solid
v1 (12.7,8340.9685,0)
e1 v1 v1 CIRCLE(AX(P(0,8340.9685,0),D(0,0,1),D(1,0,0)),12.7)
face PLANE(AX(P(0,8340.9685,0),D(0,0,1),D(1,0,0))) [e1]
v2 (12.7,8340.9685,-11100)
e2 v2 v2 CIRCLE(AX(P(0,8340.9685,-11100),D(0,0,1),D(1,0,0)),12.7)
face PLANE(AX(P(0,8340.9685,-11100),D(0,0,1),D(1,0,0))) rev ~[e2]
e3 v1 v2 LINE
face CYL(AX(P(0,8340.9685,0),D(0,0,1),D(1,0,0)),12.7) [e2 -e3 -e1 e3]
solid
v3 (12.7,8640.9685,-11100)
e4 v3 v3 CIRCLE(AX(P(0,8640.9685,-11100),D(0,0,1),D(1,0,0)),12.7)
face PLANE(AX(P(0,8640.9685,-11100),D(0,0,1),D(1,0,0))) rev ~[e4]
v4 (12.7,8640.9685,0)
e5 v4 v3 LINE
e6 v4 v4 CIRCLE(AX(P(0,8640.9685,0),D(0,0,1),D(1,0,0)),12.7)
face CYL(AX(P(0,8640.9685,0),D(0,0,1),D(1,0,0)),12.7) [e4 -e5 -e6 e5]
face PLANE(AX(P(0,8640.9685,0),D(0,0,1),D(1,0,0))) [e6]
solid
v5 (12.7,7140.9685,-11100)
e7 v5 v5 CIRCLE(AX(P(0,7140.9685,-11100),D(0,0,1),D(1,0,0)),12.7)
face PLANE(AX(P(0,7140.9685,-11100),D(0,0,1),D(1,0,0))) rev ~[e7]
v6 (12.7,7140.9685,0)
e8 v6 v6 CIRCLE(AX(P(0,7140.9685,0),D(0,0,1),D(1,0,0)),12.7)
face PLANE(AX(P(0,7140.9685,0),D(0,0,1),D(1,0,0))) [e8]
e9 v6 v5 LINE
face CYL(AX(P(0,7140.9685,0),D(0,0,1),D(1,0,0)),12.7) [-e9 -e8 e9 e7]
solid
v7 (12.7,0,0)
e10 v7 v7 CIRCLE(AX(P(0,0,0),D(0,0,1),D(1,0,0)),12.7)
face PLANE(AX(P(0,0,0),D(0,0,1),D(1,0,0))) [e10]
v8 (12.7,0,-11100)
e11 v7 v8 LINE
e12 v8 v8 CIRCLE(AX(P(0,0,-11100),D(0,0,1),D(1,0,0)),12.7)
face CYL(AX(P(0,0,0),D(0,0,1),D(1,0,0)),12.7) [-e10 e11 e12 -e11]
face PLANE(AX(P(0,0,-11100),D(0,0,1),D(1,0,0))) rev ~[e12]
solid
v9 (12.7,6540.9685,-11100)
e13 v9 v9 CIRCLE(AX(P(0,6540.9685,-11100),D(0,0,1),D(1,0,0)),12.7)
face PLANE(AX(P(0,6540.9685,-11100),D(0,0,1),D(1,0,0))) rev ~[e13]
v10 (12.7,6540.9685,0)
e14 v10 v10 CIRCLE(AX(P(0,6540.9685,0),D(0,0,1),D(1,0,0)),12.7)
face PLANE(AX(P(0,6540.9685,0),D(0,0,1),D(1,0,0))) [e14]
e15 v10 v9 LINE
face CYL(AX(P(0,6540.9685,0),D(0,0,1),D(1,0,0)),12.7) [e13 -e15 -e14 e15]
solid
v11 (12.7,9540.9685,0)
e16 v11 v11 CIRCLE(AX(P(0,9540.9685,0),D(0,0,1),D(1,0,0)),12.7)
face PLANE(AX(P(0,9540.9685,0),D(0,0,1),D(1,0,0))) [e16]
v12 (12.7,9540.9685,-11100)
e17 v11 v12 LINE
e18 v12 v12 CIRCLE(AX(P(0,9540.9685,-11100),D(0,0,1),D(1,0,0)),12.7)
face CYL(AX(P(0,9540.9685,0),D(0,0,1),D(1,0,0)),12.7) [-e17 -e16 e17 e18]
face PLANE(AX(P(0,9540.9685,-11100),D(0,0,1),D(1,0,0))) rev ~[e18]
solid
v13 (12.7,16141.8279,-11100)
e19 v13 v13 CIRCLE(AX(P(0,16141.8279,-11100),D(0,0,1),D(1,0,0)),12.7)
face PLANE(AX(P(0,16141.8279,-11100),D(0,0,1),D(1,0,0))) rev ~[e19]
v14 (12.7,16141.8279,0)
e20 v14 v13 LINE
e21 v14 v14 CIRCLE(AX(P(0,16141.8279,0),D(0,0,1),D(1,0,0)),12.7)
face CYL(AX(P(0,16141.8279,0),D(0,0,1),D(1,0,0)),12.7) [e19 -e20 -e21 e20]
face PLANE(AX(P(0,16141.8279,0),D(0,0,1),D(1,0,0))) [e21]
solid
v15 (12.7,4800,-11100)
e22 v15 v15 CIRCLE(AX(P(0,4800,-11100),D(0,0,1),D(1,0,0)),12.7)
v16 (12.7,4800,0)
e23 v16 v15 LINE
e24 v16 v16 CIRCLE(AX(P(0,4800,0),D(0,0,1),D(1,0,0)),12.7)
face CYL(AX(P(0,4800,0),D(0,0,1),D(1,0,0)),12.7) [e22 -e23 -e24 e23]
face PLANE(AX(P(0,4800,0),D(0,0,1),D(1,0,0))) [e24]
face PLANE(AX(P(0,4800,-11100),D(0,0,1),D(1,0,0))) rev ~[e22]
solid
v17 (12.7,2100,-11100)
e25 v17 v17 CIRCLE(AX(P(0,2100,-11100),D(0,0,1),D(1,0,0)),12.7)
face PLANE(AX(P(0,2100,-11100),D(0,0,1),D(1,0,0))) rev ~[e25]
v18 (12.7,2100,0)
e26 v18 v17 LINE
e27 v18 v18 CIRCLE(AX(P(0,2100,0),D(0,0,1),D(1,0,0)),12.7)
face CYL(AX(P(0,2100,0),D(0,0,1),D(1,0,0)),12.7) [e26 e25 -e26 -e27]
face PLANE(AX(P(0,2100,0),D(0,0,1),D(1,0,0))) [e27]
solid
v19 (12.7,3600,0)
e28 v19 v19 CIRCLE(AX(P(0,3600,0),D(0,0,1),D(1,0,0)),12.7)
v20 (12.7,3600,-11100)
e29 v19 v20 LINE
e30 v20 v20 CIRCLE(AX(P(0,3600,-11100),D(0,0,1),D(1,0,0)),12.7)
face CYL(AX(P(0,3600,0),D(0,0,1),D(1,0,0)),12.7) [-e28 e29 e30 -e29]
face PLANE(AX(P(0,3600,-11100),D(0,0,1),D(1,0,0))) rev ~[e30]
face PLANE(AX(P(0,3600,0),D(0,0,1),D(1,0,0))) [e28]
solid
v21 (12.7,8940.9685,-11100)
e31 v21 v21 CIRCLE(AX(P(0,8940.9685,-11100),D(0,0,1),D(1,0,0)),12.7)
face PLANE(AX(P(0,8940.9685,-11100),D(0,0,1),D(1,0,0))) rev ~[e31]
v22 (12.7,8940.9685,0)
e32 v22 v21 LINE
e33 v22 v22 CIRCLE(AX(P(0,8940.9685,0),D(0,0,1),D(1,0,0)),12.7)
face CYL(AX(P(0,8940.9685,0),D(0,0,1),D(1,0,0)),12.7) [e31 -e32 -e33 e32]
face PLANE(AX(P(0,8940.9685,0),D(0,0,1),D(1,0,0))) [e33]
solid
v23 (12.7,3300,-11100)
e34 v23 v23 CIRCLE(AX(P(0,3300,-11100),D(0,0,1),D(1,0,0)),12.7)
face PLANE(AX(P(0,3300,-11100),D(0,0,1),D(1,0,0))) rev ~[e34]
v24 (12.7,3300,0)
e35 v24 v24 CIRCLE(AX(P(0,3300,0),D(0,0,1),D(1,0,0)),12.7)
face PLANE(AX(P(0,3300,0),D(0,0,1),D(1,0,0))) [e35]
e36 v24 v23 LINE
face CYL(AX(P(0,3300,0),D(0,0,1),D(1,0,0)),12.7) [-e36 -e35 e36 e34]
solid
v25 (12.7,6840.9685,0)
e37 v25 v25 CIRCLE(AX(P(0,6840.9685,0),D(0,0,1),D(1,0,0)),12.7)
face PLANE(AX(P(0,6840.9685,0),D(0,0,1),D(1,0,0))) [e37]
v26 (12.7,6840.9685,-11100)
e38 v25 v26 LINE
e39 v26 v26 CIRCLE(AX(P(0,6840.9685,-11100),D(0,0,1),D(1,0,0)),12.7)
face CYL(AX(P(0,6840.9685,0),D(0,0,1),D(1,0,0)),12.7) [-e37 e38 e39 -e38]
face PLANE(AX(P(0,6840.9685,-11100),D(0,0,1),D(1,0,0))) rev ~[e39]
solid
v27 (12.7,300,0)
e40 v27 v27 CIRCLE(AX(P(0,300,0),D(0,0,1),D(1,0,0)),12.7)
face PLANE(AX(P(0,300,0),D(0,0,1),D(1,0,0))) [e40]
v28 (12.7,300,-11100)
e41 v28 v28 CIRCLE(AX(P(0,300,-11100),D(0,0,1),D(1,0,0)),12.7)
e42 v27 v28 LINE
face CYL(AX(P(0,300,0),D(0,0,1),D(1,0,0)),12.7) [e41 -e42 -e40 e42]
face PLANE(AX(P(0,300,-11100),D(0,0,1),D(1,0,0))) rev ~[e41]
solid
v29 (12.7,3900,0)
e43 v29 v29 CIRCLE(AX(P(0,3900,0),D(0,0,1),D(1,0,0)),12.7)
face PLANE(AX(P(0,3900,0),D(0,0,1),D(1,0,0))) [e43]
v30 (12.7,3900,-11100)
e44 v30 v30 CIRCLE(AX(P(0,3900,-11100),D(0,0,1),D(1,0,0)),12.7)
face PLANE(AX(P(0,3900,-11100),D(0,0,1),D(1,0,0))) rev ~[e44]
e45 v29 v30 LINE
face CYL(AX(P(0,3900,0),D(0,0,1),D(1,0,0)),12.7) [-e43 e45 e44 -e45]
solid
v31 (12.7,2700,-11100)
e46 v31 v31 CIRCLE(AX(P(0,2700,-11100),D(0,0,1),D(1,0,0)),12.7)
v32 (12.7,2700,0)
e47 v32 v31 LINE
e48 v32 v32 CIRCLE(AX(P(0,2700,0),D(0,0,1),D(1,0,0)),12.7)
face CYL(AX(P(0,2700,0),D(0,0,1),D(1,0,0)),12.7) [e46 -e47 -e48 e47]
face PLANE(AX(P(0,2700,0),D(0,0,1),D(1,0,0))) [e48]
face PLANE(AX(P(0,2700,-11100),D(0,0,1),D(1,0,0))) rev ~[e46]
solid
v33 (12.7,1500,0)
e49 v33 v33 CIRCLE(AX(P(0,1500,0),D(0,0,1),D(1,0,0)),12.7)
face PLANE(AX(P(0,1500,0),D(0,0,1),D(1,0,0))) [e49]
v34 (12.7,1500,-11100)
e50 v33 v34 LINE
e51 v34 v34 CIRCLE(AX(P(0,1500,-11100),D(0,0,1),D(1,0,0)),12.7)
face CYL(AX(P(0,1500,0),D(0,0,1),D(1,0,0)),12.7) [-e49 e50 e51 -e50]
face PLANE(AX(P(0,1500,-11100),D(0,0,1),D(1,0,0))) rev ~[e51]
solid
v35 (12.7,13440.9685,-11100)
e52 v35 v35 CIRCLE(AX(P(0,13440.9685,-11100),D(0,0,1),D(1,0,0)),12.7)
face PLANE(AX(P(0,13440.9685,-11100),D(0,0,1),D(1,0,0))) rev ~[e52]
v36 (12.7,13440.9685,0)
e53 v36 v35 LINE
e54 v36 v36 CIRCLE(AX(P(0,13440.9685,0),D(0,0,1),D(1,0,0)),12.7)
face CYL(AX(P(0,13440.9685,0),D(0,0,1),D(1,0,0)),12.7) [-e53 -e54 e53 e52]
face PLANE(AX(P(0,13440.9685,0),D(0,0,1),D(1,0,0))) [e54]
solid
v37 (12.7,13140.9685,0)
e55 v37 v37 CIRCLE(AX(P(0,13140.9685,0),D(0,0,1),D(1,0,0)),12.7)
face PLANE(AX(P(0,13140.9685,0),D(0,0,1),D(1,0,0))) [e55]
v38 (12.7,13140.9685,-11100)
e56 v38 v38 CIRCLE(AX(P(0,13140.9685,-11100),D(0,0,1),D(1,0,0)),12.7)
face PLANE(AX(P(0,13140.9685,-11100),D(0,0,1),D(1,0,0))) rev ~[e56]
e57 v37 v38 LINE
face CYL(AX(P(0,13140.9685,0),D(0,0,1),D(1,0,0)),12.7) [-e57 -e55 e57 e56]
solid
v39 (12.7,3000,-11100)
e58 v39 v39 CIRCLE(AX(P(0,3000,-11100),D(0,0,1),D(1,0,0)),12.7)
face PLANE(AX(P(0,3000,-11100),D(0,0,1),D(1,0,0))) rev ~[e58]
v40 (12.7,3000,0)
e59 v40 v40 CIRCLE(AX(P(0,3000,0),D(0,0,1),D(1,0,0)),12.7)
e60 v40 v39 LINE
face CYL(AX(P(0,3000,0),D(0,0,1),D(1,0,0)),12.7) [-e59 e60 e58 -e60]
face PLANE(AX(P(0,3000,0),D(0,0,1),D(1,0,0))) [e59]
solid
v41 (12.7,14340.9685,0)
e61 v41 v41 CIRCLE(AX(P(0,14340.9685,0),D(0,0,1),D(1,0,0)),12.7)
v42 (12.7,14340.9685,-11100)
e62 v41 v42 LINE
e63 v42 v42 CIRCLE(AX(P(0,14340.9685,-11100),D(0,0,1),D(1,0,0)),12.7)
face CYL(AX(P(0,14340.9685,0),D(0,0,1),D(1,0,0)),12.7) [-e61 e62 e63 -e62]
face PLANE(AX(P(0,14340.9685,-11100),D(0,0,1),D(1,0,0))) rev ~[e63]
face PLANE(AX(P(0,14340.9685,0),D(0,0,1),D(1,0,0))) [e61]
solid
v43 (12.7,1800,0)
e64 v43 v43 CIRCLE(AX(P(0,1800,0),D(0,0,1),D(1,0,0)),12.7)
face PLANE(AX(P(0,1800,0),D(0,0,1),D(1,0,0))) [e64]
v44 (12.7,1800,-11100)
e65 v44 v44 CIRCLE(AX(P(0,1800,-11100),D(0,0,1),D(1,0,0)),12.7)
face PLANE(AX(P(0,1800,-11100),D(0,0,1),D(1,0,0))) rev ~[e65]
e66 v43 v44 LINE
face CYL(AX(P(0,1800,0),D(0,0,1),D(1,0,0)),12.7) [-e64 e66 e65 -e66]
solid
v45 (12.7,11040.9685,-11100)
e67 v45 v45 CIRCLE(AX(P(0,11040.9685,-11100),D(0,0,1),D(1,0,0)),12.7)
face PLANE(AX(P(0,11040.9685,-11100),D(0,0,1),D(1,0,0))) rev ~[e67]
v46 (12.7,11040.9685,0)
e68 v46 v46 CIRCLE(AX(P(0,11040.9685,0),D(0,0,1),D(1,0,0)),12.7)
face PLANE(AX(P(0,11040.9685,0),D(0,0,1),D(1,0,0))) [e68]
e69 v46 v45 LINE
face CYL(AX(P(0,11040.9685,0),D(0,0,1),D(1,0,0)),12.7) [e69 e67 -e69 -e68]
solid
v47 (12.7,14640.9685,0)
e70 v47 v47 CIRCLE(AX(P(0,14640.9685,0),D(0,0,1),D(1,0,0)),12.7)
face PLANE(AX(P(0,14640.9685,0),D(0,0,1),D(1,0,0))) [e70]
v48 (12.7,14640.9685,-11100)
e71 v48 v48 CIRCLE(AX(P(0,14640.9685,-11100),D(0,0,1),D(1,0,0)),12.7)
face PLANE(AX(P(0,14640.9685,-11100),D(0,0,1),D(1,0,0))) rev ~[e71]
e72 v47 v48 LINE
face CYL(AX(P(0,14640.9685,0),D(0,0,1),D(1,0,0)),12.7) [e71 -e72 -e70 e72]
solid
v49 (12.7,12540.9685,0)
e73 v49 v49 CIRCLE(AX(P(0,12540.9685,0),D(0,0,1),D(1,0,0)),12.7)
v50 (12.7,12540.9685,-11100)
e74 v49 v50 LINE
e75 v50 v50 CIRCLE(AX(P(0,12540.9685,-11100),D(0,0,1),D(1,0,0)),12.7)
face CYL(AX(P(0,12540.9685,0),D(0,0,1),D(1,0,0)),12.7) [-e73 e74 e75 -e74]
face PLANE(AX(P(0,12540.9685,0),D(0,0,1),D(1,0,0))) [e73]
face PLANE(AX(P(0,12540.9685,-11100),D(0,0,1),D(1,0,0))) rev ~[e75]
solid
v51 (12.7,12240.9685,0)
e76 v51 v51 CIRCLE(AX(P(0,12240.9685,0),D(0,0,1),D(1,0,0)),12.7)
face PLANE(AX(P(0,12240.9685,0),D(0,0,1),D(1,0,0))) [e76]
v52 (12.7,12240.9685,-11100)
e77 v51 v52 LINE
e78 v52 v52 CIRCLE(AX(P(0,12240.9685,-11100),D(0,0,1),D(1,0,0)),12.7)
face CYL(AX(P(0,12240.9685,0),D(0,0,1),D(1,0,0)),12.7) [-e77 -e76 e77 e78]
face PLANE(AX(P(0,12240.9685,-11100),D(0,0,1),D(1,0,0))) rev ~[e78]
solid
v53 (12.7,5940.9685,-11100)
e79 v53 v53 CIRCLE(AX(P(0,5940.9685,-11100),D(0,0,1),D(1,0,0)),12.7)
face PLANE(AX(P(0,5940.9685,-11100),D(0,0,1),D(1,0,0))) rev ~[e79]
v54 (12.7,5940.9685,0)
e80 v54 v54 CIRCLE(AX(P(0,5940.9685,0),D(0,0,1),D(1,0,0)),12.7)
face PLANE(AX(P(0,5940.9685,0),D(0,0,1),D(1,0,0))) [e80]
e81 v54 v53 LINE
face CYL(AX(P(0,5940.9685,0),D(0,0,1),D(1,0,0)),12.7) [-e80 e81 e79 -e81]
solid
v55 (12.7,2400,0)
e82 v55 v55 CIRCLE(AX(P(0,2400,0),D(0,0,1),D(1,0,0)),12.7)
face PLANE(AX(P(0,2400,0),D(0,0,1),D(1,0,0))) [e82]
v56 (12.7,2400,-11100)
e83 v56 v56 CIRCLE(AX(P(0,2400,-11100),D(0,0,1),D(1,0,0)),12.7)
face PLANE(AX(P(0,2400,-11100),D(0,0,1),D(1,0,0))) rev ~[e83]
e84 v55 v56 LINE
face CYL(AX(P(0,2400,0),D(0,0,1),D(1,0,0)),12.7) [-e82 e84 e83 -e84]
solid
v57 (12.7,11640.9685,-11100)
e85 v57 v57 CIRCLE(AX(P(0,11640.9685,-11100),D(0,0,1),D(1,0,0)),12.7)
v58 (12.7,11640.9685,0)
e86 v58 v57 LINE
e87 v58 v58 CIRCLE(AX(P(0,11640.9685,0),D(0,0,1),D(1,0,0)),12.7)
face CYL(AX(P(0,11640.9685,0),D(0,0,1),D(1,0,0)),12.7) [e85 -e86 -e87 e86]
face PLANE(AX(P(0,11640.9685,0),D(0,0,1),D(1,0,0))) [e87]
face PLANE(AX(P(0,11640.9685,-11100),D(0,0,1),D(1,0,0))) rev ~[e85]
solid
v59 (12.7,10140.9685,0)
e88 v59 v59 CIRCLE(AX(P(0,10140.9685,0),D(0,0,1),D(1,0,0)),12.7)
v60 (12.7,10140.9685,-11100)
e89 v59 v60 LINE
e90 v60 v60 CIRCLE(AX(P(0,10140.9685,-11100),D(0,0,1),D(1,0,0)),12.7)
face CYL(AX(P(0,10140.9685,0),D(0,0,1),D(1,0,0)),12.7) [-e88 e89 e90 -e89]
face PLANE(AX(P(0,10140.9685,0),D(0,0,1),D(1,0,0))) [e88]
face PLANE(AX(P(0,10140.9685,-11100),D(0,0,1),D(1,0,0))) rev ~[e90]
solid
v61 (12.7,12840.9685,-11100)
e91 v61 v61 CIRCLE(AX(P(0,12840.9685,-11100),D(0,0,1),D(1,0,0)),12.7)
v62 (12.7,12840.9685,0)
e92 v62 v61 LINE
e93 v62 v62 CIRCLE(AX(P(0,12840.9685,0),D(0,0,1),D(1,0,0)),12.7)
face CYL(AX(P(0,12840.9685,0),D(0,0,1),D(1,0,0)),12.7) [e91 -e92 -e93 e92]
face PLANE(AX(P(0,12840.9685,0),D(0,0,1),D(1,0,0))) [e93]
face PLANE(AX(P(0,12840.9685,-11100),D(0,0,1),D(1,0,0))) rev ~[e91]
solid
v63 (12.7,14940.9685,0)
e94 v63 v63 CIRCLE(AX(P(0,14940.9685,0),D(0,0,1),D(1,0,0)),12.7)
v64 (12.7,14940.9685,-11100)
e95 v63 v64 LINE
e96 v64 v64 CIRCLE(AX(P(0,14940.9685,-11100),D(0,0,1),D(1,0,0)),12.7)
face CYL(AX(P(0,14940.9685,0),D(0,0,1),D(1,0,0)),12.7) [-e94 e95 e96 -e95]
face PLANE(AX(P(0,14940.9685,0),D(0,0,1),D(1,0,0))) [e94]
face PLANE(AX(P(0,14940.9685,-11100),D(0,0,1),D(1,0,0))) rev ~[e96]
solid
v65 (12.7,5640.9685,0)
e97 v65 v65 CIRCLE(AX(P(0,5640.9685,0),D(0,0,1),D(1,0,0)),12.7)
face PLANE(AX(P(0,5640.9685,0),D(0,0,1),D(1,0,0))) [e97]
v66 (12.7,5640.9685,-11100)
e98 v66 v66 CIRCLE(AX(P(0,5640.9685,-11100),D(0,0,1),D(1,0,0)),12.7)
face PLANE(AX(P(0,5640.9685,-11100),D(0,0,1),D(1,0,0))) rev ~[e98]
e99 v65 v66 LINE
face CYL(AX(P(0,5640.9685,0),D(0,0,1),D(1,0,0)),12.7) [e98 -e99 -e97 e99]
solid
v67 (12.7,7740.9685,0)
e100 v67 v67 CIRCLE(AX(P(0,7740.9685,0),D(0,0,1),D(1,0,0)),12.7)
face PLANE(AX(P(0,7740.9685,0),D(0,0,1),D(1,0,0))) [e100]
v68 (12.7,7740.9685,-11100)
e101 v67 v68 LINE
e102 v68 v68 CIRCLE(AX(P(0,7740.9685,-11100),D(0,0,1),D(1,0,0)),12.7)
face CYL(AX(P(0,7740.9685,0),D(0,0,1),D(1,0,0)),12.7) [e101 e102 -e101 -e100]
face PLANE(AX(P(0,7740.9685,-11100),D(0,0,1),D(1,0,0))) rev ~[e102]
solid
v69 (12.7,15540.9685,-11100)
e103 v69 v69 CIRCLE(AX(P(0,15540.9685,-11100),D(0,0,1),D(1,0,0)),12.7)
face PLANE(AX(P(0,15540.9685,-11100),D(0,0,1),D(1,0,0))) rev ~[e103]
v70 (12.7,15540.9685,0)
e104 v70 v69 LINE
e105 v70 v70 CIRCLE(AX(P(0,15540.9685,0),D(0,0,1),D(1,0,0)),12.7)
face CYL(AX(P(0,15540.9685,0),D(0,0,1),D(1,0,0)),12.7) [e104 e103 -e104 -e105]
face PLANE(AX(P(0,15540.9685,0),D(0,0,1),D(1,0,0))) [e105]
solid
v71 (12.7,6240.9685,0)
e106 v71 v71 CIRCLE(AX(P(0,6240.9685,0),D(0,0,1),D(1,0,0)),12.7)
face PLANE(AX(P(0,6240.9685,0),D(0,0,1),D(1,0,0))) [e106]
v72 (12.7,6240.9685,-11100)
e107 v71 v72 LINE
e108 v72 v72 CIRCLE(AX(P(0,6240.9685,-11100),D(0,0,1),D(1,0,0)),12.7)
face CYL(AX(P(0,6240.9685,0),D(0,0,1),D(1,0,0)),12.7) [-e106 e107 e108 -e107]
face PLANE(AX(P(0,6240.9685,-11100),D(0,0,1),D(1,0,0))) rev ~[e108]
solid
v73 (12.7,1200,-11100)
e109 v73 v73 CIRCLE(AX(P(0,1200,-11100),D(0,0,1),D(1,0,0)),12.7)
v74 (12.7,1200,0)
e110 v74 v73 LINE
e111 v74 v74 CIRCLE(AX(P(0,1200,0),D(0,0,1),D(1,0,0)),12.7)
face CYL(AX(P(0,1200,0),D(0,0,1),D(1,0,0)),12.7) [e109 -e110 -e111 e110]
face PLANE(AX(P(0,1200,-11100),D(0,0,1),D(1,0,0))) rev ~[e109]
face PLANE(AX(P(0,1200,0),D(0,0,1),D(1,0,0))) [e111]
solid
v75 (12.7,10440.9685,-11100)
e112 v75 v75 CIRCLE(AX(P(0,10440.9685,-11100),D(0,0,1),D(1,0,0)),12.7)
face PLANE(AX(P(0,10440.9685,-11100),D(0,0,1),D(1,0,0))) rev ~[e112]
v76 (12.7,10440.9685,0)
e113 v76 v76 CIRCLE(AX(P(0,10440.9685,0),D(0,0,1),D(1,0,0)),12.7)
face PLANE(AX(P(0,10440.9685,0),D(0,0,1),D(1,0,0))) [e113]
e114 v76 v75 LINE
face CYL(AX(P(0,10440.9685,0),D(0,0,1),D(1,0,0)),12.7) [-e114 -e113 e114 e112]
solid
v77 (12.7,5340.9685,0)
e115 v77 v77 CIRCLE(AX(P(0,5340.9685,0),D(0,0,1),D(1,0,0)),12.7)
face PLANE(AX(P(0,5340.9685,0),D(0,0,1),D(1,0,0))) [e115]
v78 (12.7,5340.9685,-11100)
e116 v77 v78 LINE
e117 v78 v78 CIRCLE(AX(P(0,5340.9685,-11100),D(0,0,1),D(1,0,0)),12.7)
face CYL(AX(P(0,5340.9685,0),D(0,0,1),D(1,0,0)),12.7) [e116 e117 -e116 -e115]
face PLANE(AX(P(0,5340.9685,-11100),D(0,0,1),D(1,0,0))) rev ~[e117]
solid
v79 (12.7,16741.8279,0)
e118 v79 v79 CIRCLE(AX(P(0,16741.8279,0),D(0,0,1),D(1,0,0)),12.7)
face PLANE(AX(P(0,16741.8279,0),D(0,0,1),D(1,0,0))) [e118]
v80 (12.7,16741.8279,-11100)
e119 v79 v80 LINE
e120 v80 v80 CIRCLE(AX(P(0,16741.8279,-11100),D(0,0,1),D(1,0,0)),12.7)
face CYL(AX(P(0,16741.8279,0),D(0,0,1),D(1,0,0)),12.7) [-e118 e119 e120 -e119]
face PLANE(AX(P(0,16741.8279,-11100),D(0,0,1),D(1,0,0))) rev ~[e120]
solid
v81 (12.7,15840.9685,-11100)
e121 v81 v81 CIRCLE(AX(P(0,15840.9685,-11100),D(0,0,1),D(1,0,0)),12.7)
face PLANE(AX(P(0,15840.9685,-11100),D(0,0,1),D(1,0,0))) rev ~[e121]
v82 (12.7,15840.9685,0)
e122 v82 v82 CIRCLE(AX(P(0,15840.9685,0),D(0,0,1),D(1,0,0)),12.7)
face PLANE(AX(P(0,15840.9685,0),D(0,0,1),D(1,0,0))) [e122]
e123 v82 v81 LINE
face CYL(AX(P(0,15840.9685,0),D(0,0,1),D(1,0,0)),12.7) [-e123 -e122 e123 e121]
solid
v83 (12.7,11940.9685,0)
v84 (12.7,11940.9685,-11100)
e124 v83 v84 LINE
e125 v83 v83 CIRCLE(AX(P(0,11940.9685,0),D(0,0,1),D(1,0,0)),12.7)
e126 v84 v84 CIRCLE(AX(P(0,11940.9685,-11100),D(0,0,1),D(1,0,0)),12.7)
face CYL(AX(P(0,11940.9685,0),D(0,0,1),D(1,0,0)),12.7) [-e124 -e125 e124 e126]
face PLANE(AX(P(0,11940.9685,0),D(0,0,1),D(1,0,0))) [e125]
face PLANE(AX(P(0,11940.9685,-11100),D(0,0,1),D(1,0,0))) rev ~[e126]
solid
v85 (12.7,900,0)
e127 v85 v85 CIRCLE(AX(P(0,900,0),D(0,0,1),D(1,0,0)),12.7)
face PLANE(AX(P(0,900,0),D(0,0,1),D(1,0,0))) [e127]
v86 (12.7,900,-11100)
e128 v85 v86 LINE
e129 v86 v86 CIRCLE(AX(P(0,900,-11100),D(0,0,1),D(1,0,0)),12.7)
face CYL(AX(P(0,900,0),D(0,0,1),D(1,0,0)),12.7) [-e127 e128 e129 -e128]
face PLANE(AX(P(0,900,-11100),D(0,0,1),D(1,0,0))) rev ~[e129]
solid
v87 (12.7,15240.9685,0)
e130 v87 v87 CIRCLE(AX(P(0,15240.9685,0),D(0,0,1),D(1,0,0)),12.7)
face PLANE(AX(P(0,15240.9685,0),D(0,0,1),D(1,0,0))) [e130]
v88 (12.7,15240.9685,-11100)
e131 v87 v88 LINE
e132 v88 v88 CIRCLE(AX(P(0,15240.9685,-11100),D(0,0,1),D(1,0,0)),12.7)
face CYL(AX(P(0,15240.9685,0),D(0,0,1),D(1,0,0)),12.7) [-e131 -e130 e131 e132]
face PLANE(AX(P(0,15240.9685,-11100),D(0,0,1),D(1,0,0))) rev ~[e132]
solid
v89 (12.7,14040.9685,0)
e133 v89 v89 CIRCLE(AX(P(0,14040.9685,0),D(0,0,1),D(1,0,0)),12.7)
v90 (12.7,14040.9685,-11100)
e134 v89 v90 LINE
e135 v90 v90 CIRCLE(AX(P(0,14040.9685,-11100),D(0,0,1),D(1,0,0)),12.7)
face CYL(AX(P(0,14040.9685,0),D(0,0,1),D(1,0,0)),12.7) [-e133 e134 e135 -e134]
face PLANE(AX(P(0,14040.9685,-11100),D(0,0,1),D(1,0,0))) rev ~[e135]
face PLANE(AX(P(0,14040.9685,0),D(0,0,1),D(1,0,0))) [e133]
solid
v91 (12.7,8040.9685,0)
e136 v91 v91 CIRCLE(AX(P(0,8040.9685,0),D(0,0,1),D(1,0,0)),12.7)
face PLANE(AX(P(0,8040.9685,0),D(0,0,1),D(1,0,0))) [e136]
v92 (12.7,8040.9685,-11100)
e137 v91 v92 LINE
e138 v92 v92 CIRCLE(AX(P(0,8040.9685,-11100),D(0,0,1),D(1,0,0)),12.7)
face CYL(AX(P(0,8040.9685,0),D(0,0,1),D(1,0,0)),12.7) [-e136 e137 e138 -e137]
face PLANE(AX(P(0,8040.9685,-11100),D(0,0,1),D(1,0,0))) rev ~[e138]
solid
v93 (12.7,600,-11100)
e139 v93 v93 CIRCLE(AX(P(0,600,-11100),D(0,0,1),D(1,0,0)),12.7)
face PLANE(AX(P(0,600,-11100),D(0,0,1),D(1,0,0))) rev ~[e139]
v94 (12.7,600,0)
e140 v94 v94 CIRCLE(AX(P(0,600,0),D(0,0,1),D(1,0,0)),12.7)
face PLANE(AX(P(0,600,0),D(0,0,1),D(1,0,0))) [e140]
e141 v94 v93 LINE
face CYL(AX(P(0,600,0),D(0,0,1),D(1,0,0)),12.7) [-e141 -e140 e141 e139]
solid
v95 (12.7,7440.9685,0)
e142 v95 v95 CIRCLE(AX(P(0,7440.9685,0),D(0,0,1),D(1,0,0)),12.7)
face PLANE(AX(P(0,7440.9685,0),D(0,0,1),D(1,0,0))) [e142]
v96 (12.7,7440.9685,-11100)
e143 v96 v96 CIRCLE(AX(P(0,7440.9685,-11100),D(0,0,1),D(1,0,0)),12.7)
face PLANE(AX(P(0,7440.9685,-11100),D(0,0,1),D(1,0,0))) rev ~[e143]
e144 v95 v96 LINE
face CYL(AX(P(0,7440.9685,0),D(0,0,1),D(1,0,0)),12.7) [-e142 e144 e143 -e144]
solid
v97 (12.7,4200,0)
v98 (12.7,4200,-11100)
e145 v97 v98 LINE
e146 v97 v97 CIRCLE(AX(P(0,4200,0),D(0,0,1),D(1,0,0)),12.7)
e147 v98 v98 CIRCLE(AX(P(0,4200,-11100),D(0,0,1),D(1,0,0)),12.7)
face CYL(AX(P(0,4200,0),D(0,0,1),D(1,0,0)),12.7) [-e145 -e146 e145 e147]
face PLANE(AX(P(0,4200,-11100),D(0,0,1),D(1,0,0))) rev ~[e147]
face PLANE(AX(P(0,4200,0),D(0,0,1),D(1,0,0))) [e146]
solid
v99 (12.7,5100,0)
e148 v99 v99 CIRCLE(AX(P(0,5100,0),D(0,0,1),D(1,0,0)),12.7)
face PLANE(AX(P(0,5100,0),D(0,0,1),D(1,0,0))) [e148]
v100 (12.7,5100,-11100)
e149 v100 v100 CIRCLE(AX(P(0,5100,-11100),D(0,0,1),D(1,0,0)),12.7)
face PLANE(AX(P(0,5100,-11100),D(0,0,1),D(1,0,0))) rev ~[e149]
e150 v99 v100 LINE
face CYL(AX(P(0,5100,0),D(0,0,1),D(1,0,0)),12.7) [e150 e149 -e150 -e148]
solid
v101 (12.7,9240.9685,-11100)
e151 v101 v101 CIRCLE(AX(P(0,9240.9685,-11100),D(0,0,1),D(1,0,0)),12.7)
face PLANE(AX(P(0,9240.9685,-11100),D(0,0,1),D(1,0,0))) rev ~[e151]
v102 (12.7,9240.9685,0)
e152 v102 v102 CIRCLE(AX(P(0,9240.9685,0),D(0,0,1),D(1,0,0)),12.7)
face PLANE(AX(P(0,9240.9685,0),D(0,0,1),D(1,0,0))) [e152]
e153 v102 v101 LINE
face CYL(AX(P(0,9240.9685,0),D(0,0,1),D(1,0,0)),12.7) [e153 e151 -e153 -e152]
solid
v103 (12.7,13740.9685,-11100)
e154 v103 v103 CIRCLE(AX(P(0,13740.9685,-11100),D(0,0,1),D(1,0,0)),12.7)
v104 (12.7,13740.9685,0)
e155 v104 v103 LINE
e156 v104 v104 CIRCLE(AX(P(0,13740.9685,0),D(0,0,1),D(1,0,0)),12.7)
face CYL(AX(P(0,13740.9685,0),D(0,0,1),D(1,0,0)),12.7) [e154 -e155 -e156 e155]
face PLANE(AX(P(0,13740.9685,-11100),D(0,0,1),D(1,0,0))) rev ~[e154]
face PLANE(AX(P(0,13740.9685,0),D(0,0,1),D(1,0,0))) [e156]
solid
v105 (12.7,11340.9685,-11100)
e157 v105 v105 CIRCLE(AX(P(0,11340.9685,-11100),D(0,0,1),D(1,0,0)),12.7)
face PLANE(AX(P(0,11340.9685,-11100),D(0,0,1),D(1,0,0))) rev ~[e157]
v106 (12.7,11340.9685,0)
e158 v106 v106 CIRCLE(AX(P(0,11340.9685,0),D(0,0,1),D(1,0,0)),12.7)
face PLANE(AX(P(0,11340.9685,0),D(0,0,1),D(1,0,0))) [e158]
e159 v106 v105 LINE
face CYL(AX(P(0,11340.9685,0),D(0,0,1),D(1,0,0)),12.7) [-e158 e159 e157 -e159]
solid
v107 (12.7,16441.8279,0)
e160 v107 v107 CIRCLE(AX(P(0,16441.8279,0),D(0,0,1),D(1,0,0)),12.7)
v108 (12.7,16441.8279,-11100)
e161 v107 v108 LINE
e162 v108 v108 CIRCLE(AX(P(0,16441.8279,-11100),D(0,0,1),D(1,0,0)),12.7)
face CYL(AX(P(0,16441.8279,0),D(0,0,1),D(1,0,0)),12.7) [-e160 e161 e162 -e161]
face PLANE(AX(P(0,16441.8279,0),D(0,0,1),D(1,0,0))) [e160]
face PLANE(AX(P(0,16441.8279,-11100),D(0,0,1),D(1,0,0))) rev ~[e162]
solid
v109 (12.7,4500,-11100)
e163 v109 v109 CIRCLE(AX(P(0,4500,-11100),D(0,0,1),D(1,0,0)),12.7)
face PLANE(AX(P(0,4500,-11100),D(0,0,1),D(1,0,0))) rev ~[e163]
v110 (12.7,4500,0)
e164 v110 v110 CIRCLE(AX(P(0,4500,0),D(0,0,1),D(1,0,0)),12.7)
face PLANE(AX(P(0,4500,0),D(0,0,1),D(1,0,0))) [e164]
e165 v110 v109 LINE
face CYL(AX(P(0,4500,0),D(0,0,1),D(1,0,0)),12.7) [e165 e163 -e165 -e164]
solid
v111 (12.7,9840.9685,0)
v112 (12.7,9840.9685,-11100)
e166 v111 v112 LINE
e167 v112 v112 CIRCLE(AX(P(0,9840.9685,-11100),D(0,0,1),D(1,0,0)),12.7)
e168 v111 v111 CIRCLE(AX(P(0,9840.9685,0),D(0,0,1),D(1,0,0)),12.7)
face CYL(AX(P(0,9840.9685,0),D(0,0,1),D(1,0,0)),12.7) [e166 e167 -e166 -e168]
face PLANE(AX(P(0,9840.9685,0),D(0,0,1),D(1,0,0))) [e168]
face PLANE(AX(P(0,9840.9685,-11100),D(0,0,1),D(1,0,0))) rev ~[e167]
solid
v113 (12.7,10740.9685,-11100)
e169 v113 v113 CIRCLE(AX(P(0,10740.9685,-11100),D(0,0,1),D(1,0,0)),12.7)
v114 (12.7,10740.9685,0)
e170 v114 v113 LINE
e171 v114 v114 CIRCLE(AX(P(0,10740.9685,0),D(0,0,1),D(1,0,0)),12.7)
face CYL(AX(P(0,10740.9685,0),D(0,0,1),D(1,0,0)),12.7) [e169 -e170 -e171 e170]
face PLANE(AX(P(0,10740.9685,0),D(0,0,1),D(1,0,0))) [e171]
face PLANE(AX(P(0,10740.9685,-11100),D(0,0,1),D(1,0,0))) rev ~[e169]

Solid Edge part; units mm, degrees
sketch "Sketch1" plane through (0, 0, 0) normal (0, 0, 1) x (1, 0, 0)
  circle A0 centre (0, 16741.8279) radius 12.7
  circle A1 centre (0, 16441.8279) radius 12.7
  circle A2 centre (0, 16141.8279) radius 12.7
  circle A3 centre (0, 15840.9685) radius 12.7
  circle A4 centre (0, 15540.9685) radius 12.7
  circle A5 centre (0, 15240.9685) radius 12.7
  circle A6 centre (0, 14940.9685) radius 12.7
  circle A7 centre (0, 14640.9685) radius 12.7
  circle A8 centre (0, 14340.9685) radius 12.7
  circle A9 centre (0, 14040.9685) radius 12.7
  circle A10 centre (0, 13740.9685) radius 12.7
  circle A11 centre (0, 13440.9685) radius 12.7
  circle A12 centre (0, 13140.9685) radius 12.7
  circle A13 centre (0, 12840.9685) radius 12.7
  circle A14 centre (0, 12540.9685) radius 12.7
  circle A15 centre (0, 12240.9685) radius 12.7
  circle A16 centre (0, 11940.9685) radius 12.7
  circle A17 centre (0, 11640.9685) radius 12.7
  circle A18 centre (0, 11340.9685) radius 12.7
  circle A19 centre (0, 11040.9685) radius 12.7
  circle A20 centre (0, 10740.9685) radius 12.7
  circle A21 centre (0, 10440.9685) radius 12.7
  circle A22 centre (0, 10140.9685) radius 12.7
  circle A23 centre (0, 9840.9685) radius 12.7
  circle A24 centre (0, 9540.9685) radius 12.7
  circle A25 centre (0, 9240.9685) radius 12.7
  circle A26 centre (0, 8940.9685) radius 12.7
  circle A27 centre (0, 8640.9685) radius 12.7
  circle A28 centre (0, 8340.9685) radius 12.7
  circle A29 centre (0, 8040.9685) radius 12.7
  circle A30 centre (0, 7740.9685) radius 12.7
  circle A31 centre (0, 7440.9685) radius 12.7
  circle A32 centre (0, 7140.9685) radius 12.7
  circle A33 centre (0, 6840.9685) radius 12.7
  circle A34 centre (0, 6540.9685) radius 12.7
  circle A35 centre (0, 6240.9685) radius 12.7
  circle A36 centre (0, 5940.9685) radius 12.7
  circle A37 centre (0, 5640.9685) radius 12.7
  circle A38 centre (0, 5340.9685) radius 12.7
  circle A39 centre (0, 5100) radius 12.7
  circle A40 centre (0, 4800) radius 12.7
  circle A41 centre (0, 4500) radius 12.7
  circle A42 centre (0, 4200) radius 12.7
  circle A43 centre (0, 3900) radius 12.7
  circle A44 centre (0, 3600) radius 12.7
  circle A45 centre (0, 3300) radius 12.7
  circle A46 centre (0, 3000) radius 12.7
  circle A47 centre (0, 2700) radius 12.7
  circle A48 centre (0, 2400) radius 12.7
  circle A49 centre (0, 2100) radius 12.7
  circle A50 centre (0, 1800) radius 12.7
  circle A51 centre (0, 1500) radius 12.7
  circle A52 centre (0, 1200) radius 12.7
  circle A53 centre (0, 900) radius 12.7
  circle A54 centre (0, 600) radius 12.7
  circle A55 centre (0, 300) radius 12.7
  circle A56 centre (0, 0) radius 12.7
extrude "Protrusion1" add sketch "Sketch1" against normal blind 11100
